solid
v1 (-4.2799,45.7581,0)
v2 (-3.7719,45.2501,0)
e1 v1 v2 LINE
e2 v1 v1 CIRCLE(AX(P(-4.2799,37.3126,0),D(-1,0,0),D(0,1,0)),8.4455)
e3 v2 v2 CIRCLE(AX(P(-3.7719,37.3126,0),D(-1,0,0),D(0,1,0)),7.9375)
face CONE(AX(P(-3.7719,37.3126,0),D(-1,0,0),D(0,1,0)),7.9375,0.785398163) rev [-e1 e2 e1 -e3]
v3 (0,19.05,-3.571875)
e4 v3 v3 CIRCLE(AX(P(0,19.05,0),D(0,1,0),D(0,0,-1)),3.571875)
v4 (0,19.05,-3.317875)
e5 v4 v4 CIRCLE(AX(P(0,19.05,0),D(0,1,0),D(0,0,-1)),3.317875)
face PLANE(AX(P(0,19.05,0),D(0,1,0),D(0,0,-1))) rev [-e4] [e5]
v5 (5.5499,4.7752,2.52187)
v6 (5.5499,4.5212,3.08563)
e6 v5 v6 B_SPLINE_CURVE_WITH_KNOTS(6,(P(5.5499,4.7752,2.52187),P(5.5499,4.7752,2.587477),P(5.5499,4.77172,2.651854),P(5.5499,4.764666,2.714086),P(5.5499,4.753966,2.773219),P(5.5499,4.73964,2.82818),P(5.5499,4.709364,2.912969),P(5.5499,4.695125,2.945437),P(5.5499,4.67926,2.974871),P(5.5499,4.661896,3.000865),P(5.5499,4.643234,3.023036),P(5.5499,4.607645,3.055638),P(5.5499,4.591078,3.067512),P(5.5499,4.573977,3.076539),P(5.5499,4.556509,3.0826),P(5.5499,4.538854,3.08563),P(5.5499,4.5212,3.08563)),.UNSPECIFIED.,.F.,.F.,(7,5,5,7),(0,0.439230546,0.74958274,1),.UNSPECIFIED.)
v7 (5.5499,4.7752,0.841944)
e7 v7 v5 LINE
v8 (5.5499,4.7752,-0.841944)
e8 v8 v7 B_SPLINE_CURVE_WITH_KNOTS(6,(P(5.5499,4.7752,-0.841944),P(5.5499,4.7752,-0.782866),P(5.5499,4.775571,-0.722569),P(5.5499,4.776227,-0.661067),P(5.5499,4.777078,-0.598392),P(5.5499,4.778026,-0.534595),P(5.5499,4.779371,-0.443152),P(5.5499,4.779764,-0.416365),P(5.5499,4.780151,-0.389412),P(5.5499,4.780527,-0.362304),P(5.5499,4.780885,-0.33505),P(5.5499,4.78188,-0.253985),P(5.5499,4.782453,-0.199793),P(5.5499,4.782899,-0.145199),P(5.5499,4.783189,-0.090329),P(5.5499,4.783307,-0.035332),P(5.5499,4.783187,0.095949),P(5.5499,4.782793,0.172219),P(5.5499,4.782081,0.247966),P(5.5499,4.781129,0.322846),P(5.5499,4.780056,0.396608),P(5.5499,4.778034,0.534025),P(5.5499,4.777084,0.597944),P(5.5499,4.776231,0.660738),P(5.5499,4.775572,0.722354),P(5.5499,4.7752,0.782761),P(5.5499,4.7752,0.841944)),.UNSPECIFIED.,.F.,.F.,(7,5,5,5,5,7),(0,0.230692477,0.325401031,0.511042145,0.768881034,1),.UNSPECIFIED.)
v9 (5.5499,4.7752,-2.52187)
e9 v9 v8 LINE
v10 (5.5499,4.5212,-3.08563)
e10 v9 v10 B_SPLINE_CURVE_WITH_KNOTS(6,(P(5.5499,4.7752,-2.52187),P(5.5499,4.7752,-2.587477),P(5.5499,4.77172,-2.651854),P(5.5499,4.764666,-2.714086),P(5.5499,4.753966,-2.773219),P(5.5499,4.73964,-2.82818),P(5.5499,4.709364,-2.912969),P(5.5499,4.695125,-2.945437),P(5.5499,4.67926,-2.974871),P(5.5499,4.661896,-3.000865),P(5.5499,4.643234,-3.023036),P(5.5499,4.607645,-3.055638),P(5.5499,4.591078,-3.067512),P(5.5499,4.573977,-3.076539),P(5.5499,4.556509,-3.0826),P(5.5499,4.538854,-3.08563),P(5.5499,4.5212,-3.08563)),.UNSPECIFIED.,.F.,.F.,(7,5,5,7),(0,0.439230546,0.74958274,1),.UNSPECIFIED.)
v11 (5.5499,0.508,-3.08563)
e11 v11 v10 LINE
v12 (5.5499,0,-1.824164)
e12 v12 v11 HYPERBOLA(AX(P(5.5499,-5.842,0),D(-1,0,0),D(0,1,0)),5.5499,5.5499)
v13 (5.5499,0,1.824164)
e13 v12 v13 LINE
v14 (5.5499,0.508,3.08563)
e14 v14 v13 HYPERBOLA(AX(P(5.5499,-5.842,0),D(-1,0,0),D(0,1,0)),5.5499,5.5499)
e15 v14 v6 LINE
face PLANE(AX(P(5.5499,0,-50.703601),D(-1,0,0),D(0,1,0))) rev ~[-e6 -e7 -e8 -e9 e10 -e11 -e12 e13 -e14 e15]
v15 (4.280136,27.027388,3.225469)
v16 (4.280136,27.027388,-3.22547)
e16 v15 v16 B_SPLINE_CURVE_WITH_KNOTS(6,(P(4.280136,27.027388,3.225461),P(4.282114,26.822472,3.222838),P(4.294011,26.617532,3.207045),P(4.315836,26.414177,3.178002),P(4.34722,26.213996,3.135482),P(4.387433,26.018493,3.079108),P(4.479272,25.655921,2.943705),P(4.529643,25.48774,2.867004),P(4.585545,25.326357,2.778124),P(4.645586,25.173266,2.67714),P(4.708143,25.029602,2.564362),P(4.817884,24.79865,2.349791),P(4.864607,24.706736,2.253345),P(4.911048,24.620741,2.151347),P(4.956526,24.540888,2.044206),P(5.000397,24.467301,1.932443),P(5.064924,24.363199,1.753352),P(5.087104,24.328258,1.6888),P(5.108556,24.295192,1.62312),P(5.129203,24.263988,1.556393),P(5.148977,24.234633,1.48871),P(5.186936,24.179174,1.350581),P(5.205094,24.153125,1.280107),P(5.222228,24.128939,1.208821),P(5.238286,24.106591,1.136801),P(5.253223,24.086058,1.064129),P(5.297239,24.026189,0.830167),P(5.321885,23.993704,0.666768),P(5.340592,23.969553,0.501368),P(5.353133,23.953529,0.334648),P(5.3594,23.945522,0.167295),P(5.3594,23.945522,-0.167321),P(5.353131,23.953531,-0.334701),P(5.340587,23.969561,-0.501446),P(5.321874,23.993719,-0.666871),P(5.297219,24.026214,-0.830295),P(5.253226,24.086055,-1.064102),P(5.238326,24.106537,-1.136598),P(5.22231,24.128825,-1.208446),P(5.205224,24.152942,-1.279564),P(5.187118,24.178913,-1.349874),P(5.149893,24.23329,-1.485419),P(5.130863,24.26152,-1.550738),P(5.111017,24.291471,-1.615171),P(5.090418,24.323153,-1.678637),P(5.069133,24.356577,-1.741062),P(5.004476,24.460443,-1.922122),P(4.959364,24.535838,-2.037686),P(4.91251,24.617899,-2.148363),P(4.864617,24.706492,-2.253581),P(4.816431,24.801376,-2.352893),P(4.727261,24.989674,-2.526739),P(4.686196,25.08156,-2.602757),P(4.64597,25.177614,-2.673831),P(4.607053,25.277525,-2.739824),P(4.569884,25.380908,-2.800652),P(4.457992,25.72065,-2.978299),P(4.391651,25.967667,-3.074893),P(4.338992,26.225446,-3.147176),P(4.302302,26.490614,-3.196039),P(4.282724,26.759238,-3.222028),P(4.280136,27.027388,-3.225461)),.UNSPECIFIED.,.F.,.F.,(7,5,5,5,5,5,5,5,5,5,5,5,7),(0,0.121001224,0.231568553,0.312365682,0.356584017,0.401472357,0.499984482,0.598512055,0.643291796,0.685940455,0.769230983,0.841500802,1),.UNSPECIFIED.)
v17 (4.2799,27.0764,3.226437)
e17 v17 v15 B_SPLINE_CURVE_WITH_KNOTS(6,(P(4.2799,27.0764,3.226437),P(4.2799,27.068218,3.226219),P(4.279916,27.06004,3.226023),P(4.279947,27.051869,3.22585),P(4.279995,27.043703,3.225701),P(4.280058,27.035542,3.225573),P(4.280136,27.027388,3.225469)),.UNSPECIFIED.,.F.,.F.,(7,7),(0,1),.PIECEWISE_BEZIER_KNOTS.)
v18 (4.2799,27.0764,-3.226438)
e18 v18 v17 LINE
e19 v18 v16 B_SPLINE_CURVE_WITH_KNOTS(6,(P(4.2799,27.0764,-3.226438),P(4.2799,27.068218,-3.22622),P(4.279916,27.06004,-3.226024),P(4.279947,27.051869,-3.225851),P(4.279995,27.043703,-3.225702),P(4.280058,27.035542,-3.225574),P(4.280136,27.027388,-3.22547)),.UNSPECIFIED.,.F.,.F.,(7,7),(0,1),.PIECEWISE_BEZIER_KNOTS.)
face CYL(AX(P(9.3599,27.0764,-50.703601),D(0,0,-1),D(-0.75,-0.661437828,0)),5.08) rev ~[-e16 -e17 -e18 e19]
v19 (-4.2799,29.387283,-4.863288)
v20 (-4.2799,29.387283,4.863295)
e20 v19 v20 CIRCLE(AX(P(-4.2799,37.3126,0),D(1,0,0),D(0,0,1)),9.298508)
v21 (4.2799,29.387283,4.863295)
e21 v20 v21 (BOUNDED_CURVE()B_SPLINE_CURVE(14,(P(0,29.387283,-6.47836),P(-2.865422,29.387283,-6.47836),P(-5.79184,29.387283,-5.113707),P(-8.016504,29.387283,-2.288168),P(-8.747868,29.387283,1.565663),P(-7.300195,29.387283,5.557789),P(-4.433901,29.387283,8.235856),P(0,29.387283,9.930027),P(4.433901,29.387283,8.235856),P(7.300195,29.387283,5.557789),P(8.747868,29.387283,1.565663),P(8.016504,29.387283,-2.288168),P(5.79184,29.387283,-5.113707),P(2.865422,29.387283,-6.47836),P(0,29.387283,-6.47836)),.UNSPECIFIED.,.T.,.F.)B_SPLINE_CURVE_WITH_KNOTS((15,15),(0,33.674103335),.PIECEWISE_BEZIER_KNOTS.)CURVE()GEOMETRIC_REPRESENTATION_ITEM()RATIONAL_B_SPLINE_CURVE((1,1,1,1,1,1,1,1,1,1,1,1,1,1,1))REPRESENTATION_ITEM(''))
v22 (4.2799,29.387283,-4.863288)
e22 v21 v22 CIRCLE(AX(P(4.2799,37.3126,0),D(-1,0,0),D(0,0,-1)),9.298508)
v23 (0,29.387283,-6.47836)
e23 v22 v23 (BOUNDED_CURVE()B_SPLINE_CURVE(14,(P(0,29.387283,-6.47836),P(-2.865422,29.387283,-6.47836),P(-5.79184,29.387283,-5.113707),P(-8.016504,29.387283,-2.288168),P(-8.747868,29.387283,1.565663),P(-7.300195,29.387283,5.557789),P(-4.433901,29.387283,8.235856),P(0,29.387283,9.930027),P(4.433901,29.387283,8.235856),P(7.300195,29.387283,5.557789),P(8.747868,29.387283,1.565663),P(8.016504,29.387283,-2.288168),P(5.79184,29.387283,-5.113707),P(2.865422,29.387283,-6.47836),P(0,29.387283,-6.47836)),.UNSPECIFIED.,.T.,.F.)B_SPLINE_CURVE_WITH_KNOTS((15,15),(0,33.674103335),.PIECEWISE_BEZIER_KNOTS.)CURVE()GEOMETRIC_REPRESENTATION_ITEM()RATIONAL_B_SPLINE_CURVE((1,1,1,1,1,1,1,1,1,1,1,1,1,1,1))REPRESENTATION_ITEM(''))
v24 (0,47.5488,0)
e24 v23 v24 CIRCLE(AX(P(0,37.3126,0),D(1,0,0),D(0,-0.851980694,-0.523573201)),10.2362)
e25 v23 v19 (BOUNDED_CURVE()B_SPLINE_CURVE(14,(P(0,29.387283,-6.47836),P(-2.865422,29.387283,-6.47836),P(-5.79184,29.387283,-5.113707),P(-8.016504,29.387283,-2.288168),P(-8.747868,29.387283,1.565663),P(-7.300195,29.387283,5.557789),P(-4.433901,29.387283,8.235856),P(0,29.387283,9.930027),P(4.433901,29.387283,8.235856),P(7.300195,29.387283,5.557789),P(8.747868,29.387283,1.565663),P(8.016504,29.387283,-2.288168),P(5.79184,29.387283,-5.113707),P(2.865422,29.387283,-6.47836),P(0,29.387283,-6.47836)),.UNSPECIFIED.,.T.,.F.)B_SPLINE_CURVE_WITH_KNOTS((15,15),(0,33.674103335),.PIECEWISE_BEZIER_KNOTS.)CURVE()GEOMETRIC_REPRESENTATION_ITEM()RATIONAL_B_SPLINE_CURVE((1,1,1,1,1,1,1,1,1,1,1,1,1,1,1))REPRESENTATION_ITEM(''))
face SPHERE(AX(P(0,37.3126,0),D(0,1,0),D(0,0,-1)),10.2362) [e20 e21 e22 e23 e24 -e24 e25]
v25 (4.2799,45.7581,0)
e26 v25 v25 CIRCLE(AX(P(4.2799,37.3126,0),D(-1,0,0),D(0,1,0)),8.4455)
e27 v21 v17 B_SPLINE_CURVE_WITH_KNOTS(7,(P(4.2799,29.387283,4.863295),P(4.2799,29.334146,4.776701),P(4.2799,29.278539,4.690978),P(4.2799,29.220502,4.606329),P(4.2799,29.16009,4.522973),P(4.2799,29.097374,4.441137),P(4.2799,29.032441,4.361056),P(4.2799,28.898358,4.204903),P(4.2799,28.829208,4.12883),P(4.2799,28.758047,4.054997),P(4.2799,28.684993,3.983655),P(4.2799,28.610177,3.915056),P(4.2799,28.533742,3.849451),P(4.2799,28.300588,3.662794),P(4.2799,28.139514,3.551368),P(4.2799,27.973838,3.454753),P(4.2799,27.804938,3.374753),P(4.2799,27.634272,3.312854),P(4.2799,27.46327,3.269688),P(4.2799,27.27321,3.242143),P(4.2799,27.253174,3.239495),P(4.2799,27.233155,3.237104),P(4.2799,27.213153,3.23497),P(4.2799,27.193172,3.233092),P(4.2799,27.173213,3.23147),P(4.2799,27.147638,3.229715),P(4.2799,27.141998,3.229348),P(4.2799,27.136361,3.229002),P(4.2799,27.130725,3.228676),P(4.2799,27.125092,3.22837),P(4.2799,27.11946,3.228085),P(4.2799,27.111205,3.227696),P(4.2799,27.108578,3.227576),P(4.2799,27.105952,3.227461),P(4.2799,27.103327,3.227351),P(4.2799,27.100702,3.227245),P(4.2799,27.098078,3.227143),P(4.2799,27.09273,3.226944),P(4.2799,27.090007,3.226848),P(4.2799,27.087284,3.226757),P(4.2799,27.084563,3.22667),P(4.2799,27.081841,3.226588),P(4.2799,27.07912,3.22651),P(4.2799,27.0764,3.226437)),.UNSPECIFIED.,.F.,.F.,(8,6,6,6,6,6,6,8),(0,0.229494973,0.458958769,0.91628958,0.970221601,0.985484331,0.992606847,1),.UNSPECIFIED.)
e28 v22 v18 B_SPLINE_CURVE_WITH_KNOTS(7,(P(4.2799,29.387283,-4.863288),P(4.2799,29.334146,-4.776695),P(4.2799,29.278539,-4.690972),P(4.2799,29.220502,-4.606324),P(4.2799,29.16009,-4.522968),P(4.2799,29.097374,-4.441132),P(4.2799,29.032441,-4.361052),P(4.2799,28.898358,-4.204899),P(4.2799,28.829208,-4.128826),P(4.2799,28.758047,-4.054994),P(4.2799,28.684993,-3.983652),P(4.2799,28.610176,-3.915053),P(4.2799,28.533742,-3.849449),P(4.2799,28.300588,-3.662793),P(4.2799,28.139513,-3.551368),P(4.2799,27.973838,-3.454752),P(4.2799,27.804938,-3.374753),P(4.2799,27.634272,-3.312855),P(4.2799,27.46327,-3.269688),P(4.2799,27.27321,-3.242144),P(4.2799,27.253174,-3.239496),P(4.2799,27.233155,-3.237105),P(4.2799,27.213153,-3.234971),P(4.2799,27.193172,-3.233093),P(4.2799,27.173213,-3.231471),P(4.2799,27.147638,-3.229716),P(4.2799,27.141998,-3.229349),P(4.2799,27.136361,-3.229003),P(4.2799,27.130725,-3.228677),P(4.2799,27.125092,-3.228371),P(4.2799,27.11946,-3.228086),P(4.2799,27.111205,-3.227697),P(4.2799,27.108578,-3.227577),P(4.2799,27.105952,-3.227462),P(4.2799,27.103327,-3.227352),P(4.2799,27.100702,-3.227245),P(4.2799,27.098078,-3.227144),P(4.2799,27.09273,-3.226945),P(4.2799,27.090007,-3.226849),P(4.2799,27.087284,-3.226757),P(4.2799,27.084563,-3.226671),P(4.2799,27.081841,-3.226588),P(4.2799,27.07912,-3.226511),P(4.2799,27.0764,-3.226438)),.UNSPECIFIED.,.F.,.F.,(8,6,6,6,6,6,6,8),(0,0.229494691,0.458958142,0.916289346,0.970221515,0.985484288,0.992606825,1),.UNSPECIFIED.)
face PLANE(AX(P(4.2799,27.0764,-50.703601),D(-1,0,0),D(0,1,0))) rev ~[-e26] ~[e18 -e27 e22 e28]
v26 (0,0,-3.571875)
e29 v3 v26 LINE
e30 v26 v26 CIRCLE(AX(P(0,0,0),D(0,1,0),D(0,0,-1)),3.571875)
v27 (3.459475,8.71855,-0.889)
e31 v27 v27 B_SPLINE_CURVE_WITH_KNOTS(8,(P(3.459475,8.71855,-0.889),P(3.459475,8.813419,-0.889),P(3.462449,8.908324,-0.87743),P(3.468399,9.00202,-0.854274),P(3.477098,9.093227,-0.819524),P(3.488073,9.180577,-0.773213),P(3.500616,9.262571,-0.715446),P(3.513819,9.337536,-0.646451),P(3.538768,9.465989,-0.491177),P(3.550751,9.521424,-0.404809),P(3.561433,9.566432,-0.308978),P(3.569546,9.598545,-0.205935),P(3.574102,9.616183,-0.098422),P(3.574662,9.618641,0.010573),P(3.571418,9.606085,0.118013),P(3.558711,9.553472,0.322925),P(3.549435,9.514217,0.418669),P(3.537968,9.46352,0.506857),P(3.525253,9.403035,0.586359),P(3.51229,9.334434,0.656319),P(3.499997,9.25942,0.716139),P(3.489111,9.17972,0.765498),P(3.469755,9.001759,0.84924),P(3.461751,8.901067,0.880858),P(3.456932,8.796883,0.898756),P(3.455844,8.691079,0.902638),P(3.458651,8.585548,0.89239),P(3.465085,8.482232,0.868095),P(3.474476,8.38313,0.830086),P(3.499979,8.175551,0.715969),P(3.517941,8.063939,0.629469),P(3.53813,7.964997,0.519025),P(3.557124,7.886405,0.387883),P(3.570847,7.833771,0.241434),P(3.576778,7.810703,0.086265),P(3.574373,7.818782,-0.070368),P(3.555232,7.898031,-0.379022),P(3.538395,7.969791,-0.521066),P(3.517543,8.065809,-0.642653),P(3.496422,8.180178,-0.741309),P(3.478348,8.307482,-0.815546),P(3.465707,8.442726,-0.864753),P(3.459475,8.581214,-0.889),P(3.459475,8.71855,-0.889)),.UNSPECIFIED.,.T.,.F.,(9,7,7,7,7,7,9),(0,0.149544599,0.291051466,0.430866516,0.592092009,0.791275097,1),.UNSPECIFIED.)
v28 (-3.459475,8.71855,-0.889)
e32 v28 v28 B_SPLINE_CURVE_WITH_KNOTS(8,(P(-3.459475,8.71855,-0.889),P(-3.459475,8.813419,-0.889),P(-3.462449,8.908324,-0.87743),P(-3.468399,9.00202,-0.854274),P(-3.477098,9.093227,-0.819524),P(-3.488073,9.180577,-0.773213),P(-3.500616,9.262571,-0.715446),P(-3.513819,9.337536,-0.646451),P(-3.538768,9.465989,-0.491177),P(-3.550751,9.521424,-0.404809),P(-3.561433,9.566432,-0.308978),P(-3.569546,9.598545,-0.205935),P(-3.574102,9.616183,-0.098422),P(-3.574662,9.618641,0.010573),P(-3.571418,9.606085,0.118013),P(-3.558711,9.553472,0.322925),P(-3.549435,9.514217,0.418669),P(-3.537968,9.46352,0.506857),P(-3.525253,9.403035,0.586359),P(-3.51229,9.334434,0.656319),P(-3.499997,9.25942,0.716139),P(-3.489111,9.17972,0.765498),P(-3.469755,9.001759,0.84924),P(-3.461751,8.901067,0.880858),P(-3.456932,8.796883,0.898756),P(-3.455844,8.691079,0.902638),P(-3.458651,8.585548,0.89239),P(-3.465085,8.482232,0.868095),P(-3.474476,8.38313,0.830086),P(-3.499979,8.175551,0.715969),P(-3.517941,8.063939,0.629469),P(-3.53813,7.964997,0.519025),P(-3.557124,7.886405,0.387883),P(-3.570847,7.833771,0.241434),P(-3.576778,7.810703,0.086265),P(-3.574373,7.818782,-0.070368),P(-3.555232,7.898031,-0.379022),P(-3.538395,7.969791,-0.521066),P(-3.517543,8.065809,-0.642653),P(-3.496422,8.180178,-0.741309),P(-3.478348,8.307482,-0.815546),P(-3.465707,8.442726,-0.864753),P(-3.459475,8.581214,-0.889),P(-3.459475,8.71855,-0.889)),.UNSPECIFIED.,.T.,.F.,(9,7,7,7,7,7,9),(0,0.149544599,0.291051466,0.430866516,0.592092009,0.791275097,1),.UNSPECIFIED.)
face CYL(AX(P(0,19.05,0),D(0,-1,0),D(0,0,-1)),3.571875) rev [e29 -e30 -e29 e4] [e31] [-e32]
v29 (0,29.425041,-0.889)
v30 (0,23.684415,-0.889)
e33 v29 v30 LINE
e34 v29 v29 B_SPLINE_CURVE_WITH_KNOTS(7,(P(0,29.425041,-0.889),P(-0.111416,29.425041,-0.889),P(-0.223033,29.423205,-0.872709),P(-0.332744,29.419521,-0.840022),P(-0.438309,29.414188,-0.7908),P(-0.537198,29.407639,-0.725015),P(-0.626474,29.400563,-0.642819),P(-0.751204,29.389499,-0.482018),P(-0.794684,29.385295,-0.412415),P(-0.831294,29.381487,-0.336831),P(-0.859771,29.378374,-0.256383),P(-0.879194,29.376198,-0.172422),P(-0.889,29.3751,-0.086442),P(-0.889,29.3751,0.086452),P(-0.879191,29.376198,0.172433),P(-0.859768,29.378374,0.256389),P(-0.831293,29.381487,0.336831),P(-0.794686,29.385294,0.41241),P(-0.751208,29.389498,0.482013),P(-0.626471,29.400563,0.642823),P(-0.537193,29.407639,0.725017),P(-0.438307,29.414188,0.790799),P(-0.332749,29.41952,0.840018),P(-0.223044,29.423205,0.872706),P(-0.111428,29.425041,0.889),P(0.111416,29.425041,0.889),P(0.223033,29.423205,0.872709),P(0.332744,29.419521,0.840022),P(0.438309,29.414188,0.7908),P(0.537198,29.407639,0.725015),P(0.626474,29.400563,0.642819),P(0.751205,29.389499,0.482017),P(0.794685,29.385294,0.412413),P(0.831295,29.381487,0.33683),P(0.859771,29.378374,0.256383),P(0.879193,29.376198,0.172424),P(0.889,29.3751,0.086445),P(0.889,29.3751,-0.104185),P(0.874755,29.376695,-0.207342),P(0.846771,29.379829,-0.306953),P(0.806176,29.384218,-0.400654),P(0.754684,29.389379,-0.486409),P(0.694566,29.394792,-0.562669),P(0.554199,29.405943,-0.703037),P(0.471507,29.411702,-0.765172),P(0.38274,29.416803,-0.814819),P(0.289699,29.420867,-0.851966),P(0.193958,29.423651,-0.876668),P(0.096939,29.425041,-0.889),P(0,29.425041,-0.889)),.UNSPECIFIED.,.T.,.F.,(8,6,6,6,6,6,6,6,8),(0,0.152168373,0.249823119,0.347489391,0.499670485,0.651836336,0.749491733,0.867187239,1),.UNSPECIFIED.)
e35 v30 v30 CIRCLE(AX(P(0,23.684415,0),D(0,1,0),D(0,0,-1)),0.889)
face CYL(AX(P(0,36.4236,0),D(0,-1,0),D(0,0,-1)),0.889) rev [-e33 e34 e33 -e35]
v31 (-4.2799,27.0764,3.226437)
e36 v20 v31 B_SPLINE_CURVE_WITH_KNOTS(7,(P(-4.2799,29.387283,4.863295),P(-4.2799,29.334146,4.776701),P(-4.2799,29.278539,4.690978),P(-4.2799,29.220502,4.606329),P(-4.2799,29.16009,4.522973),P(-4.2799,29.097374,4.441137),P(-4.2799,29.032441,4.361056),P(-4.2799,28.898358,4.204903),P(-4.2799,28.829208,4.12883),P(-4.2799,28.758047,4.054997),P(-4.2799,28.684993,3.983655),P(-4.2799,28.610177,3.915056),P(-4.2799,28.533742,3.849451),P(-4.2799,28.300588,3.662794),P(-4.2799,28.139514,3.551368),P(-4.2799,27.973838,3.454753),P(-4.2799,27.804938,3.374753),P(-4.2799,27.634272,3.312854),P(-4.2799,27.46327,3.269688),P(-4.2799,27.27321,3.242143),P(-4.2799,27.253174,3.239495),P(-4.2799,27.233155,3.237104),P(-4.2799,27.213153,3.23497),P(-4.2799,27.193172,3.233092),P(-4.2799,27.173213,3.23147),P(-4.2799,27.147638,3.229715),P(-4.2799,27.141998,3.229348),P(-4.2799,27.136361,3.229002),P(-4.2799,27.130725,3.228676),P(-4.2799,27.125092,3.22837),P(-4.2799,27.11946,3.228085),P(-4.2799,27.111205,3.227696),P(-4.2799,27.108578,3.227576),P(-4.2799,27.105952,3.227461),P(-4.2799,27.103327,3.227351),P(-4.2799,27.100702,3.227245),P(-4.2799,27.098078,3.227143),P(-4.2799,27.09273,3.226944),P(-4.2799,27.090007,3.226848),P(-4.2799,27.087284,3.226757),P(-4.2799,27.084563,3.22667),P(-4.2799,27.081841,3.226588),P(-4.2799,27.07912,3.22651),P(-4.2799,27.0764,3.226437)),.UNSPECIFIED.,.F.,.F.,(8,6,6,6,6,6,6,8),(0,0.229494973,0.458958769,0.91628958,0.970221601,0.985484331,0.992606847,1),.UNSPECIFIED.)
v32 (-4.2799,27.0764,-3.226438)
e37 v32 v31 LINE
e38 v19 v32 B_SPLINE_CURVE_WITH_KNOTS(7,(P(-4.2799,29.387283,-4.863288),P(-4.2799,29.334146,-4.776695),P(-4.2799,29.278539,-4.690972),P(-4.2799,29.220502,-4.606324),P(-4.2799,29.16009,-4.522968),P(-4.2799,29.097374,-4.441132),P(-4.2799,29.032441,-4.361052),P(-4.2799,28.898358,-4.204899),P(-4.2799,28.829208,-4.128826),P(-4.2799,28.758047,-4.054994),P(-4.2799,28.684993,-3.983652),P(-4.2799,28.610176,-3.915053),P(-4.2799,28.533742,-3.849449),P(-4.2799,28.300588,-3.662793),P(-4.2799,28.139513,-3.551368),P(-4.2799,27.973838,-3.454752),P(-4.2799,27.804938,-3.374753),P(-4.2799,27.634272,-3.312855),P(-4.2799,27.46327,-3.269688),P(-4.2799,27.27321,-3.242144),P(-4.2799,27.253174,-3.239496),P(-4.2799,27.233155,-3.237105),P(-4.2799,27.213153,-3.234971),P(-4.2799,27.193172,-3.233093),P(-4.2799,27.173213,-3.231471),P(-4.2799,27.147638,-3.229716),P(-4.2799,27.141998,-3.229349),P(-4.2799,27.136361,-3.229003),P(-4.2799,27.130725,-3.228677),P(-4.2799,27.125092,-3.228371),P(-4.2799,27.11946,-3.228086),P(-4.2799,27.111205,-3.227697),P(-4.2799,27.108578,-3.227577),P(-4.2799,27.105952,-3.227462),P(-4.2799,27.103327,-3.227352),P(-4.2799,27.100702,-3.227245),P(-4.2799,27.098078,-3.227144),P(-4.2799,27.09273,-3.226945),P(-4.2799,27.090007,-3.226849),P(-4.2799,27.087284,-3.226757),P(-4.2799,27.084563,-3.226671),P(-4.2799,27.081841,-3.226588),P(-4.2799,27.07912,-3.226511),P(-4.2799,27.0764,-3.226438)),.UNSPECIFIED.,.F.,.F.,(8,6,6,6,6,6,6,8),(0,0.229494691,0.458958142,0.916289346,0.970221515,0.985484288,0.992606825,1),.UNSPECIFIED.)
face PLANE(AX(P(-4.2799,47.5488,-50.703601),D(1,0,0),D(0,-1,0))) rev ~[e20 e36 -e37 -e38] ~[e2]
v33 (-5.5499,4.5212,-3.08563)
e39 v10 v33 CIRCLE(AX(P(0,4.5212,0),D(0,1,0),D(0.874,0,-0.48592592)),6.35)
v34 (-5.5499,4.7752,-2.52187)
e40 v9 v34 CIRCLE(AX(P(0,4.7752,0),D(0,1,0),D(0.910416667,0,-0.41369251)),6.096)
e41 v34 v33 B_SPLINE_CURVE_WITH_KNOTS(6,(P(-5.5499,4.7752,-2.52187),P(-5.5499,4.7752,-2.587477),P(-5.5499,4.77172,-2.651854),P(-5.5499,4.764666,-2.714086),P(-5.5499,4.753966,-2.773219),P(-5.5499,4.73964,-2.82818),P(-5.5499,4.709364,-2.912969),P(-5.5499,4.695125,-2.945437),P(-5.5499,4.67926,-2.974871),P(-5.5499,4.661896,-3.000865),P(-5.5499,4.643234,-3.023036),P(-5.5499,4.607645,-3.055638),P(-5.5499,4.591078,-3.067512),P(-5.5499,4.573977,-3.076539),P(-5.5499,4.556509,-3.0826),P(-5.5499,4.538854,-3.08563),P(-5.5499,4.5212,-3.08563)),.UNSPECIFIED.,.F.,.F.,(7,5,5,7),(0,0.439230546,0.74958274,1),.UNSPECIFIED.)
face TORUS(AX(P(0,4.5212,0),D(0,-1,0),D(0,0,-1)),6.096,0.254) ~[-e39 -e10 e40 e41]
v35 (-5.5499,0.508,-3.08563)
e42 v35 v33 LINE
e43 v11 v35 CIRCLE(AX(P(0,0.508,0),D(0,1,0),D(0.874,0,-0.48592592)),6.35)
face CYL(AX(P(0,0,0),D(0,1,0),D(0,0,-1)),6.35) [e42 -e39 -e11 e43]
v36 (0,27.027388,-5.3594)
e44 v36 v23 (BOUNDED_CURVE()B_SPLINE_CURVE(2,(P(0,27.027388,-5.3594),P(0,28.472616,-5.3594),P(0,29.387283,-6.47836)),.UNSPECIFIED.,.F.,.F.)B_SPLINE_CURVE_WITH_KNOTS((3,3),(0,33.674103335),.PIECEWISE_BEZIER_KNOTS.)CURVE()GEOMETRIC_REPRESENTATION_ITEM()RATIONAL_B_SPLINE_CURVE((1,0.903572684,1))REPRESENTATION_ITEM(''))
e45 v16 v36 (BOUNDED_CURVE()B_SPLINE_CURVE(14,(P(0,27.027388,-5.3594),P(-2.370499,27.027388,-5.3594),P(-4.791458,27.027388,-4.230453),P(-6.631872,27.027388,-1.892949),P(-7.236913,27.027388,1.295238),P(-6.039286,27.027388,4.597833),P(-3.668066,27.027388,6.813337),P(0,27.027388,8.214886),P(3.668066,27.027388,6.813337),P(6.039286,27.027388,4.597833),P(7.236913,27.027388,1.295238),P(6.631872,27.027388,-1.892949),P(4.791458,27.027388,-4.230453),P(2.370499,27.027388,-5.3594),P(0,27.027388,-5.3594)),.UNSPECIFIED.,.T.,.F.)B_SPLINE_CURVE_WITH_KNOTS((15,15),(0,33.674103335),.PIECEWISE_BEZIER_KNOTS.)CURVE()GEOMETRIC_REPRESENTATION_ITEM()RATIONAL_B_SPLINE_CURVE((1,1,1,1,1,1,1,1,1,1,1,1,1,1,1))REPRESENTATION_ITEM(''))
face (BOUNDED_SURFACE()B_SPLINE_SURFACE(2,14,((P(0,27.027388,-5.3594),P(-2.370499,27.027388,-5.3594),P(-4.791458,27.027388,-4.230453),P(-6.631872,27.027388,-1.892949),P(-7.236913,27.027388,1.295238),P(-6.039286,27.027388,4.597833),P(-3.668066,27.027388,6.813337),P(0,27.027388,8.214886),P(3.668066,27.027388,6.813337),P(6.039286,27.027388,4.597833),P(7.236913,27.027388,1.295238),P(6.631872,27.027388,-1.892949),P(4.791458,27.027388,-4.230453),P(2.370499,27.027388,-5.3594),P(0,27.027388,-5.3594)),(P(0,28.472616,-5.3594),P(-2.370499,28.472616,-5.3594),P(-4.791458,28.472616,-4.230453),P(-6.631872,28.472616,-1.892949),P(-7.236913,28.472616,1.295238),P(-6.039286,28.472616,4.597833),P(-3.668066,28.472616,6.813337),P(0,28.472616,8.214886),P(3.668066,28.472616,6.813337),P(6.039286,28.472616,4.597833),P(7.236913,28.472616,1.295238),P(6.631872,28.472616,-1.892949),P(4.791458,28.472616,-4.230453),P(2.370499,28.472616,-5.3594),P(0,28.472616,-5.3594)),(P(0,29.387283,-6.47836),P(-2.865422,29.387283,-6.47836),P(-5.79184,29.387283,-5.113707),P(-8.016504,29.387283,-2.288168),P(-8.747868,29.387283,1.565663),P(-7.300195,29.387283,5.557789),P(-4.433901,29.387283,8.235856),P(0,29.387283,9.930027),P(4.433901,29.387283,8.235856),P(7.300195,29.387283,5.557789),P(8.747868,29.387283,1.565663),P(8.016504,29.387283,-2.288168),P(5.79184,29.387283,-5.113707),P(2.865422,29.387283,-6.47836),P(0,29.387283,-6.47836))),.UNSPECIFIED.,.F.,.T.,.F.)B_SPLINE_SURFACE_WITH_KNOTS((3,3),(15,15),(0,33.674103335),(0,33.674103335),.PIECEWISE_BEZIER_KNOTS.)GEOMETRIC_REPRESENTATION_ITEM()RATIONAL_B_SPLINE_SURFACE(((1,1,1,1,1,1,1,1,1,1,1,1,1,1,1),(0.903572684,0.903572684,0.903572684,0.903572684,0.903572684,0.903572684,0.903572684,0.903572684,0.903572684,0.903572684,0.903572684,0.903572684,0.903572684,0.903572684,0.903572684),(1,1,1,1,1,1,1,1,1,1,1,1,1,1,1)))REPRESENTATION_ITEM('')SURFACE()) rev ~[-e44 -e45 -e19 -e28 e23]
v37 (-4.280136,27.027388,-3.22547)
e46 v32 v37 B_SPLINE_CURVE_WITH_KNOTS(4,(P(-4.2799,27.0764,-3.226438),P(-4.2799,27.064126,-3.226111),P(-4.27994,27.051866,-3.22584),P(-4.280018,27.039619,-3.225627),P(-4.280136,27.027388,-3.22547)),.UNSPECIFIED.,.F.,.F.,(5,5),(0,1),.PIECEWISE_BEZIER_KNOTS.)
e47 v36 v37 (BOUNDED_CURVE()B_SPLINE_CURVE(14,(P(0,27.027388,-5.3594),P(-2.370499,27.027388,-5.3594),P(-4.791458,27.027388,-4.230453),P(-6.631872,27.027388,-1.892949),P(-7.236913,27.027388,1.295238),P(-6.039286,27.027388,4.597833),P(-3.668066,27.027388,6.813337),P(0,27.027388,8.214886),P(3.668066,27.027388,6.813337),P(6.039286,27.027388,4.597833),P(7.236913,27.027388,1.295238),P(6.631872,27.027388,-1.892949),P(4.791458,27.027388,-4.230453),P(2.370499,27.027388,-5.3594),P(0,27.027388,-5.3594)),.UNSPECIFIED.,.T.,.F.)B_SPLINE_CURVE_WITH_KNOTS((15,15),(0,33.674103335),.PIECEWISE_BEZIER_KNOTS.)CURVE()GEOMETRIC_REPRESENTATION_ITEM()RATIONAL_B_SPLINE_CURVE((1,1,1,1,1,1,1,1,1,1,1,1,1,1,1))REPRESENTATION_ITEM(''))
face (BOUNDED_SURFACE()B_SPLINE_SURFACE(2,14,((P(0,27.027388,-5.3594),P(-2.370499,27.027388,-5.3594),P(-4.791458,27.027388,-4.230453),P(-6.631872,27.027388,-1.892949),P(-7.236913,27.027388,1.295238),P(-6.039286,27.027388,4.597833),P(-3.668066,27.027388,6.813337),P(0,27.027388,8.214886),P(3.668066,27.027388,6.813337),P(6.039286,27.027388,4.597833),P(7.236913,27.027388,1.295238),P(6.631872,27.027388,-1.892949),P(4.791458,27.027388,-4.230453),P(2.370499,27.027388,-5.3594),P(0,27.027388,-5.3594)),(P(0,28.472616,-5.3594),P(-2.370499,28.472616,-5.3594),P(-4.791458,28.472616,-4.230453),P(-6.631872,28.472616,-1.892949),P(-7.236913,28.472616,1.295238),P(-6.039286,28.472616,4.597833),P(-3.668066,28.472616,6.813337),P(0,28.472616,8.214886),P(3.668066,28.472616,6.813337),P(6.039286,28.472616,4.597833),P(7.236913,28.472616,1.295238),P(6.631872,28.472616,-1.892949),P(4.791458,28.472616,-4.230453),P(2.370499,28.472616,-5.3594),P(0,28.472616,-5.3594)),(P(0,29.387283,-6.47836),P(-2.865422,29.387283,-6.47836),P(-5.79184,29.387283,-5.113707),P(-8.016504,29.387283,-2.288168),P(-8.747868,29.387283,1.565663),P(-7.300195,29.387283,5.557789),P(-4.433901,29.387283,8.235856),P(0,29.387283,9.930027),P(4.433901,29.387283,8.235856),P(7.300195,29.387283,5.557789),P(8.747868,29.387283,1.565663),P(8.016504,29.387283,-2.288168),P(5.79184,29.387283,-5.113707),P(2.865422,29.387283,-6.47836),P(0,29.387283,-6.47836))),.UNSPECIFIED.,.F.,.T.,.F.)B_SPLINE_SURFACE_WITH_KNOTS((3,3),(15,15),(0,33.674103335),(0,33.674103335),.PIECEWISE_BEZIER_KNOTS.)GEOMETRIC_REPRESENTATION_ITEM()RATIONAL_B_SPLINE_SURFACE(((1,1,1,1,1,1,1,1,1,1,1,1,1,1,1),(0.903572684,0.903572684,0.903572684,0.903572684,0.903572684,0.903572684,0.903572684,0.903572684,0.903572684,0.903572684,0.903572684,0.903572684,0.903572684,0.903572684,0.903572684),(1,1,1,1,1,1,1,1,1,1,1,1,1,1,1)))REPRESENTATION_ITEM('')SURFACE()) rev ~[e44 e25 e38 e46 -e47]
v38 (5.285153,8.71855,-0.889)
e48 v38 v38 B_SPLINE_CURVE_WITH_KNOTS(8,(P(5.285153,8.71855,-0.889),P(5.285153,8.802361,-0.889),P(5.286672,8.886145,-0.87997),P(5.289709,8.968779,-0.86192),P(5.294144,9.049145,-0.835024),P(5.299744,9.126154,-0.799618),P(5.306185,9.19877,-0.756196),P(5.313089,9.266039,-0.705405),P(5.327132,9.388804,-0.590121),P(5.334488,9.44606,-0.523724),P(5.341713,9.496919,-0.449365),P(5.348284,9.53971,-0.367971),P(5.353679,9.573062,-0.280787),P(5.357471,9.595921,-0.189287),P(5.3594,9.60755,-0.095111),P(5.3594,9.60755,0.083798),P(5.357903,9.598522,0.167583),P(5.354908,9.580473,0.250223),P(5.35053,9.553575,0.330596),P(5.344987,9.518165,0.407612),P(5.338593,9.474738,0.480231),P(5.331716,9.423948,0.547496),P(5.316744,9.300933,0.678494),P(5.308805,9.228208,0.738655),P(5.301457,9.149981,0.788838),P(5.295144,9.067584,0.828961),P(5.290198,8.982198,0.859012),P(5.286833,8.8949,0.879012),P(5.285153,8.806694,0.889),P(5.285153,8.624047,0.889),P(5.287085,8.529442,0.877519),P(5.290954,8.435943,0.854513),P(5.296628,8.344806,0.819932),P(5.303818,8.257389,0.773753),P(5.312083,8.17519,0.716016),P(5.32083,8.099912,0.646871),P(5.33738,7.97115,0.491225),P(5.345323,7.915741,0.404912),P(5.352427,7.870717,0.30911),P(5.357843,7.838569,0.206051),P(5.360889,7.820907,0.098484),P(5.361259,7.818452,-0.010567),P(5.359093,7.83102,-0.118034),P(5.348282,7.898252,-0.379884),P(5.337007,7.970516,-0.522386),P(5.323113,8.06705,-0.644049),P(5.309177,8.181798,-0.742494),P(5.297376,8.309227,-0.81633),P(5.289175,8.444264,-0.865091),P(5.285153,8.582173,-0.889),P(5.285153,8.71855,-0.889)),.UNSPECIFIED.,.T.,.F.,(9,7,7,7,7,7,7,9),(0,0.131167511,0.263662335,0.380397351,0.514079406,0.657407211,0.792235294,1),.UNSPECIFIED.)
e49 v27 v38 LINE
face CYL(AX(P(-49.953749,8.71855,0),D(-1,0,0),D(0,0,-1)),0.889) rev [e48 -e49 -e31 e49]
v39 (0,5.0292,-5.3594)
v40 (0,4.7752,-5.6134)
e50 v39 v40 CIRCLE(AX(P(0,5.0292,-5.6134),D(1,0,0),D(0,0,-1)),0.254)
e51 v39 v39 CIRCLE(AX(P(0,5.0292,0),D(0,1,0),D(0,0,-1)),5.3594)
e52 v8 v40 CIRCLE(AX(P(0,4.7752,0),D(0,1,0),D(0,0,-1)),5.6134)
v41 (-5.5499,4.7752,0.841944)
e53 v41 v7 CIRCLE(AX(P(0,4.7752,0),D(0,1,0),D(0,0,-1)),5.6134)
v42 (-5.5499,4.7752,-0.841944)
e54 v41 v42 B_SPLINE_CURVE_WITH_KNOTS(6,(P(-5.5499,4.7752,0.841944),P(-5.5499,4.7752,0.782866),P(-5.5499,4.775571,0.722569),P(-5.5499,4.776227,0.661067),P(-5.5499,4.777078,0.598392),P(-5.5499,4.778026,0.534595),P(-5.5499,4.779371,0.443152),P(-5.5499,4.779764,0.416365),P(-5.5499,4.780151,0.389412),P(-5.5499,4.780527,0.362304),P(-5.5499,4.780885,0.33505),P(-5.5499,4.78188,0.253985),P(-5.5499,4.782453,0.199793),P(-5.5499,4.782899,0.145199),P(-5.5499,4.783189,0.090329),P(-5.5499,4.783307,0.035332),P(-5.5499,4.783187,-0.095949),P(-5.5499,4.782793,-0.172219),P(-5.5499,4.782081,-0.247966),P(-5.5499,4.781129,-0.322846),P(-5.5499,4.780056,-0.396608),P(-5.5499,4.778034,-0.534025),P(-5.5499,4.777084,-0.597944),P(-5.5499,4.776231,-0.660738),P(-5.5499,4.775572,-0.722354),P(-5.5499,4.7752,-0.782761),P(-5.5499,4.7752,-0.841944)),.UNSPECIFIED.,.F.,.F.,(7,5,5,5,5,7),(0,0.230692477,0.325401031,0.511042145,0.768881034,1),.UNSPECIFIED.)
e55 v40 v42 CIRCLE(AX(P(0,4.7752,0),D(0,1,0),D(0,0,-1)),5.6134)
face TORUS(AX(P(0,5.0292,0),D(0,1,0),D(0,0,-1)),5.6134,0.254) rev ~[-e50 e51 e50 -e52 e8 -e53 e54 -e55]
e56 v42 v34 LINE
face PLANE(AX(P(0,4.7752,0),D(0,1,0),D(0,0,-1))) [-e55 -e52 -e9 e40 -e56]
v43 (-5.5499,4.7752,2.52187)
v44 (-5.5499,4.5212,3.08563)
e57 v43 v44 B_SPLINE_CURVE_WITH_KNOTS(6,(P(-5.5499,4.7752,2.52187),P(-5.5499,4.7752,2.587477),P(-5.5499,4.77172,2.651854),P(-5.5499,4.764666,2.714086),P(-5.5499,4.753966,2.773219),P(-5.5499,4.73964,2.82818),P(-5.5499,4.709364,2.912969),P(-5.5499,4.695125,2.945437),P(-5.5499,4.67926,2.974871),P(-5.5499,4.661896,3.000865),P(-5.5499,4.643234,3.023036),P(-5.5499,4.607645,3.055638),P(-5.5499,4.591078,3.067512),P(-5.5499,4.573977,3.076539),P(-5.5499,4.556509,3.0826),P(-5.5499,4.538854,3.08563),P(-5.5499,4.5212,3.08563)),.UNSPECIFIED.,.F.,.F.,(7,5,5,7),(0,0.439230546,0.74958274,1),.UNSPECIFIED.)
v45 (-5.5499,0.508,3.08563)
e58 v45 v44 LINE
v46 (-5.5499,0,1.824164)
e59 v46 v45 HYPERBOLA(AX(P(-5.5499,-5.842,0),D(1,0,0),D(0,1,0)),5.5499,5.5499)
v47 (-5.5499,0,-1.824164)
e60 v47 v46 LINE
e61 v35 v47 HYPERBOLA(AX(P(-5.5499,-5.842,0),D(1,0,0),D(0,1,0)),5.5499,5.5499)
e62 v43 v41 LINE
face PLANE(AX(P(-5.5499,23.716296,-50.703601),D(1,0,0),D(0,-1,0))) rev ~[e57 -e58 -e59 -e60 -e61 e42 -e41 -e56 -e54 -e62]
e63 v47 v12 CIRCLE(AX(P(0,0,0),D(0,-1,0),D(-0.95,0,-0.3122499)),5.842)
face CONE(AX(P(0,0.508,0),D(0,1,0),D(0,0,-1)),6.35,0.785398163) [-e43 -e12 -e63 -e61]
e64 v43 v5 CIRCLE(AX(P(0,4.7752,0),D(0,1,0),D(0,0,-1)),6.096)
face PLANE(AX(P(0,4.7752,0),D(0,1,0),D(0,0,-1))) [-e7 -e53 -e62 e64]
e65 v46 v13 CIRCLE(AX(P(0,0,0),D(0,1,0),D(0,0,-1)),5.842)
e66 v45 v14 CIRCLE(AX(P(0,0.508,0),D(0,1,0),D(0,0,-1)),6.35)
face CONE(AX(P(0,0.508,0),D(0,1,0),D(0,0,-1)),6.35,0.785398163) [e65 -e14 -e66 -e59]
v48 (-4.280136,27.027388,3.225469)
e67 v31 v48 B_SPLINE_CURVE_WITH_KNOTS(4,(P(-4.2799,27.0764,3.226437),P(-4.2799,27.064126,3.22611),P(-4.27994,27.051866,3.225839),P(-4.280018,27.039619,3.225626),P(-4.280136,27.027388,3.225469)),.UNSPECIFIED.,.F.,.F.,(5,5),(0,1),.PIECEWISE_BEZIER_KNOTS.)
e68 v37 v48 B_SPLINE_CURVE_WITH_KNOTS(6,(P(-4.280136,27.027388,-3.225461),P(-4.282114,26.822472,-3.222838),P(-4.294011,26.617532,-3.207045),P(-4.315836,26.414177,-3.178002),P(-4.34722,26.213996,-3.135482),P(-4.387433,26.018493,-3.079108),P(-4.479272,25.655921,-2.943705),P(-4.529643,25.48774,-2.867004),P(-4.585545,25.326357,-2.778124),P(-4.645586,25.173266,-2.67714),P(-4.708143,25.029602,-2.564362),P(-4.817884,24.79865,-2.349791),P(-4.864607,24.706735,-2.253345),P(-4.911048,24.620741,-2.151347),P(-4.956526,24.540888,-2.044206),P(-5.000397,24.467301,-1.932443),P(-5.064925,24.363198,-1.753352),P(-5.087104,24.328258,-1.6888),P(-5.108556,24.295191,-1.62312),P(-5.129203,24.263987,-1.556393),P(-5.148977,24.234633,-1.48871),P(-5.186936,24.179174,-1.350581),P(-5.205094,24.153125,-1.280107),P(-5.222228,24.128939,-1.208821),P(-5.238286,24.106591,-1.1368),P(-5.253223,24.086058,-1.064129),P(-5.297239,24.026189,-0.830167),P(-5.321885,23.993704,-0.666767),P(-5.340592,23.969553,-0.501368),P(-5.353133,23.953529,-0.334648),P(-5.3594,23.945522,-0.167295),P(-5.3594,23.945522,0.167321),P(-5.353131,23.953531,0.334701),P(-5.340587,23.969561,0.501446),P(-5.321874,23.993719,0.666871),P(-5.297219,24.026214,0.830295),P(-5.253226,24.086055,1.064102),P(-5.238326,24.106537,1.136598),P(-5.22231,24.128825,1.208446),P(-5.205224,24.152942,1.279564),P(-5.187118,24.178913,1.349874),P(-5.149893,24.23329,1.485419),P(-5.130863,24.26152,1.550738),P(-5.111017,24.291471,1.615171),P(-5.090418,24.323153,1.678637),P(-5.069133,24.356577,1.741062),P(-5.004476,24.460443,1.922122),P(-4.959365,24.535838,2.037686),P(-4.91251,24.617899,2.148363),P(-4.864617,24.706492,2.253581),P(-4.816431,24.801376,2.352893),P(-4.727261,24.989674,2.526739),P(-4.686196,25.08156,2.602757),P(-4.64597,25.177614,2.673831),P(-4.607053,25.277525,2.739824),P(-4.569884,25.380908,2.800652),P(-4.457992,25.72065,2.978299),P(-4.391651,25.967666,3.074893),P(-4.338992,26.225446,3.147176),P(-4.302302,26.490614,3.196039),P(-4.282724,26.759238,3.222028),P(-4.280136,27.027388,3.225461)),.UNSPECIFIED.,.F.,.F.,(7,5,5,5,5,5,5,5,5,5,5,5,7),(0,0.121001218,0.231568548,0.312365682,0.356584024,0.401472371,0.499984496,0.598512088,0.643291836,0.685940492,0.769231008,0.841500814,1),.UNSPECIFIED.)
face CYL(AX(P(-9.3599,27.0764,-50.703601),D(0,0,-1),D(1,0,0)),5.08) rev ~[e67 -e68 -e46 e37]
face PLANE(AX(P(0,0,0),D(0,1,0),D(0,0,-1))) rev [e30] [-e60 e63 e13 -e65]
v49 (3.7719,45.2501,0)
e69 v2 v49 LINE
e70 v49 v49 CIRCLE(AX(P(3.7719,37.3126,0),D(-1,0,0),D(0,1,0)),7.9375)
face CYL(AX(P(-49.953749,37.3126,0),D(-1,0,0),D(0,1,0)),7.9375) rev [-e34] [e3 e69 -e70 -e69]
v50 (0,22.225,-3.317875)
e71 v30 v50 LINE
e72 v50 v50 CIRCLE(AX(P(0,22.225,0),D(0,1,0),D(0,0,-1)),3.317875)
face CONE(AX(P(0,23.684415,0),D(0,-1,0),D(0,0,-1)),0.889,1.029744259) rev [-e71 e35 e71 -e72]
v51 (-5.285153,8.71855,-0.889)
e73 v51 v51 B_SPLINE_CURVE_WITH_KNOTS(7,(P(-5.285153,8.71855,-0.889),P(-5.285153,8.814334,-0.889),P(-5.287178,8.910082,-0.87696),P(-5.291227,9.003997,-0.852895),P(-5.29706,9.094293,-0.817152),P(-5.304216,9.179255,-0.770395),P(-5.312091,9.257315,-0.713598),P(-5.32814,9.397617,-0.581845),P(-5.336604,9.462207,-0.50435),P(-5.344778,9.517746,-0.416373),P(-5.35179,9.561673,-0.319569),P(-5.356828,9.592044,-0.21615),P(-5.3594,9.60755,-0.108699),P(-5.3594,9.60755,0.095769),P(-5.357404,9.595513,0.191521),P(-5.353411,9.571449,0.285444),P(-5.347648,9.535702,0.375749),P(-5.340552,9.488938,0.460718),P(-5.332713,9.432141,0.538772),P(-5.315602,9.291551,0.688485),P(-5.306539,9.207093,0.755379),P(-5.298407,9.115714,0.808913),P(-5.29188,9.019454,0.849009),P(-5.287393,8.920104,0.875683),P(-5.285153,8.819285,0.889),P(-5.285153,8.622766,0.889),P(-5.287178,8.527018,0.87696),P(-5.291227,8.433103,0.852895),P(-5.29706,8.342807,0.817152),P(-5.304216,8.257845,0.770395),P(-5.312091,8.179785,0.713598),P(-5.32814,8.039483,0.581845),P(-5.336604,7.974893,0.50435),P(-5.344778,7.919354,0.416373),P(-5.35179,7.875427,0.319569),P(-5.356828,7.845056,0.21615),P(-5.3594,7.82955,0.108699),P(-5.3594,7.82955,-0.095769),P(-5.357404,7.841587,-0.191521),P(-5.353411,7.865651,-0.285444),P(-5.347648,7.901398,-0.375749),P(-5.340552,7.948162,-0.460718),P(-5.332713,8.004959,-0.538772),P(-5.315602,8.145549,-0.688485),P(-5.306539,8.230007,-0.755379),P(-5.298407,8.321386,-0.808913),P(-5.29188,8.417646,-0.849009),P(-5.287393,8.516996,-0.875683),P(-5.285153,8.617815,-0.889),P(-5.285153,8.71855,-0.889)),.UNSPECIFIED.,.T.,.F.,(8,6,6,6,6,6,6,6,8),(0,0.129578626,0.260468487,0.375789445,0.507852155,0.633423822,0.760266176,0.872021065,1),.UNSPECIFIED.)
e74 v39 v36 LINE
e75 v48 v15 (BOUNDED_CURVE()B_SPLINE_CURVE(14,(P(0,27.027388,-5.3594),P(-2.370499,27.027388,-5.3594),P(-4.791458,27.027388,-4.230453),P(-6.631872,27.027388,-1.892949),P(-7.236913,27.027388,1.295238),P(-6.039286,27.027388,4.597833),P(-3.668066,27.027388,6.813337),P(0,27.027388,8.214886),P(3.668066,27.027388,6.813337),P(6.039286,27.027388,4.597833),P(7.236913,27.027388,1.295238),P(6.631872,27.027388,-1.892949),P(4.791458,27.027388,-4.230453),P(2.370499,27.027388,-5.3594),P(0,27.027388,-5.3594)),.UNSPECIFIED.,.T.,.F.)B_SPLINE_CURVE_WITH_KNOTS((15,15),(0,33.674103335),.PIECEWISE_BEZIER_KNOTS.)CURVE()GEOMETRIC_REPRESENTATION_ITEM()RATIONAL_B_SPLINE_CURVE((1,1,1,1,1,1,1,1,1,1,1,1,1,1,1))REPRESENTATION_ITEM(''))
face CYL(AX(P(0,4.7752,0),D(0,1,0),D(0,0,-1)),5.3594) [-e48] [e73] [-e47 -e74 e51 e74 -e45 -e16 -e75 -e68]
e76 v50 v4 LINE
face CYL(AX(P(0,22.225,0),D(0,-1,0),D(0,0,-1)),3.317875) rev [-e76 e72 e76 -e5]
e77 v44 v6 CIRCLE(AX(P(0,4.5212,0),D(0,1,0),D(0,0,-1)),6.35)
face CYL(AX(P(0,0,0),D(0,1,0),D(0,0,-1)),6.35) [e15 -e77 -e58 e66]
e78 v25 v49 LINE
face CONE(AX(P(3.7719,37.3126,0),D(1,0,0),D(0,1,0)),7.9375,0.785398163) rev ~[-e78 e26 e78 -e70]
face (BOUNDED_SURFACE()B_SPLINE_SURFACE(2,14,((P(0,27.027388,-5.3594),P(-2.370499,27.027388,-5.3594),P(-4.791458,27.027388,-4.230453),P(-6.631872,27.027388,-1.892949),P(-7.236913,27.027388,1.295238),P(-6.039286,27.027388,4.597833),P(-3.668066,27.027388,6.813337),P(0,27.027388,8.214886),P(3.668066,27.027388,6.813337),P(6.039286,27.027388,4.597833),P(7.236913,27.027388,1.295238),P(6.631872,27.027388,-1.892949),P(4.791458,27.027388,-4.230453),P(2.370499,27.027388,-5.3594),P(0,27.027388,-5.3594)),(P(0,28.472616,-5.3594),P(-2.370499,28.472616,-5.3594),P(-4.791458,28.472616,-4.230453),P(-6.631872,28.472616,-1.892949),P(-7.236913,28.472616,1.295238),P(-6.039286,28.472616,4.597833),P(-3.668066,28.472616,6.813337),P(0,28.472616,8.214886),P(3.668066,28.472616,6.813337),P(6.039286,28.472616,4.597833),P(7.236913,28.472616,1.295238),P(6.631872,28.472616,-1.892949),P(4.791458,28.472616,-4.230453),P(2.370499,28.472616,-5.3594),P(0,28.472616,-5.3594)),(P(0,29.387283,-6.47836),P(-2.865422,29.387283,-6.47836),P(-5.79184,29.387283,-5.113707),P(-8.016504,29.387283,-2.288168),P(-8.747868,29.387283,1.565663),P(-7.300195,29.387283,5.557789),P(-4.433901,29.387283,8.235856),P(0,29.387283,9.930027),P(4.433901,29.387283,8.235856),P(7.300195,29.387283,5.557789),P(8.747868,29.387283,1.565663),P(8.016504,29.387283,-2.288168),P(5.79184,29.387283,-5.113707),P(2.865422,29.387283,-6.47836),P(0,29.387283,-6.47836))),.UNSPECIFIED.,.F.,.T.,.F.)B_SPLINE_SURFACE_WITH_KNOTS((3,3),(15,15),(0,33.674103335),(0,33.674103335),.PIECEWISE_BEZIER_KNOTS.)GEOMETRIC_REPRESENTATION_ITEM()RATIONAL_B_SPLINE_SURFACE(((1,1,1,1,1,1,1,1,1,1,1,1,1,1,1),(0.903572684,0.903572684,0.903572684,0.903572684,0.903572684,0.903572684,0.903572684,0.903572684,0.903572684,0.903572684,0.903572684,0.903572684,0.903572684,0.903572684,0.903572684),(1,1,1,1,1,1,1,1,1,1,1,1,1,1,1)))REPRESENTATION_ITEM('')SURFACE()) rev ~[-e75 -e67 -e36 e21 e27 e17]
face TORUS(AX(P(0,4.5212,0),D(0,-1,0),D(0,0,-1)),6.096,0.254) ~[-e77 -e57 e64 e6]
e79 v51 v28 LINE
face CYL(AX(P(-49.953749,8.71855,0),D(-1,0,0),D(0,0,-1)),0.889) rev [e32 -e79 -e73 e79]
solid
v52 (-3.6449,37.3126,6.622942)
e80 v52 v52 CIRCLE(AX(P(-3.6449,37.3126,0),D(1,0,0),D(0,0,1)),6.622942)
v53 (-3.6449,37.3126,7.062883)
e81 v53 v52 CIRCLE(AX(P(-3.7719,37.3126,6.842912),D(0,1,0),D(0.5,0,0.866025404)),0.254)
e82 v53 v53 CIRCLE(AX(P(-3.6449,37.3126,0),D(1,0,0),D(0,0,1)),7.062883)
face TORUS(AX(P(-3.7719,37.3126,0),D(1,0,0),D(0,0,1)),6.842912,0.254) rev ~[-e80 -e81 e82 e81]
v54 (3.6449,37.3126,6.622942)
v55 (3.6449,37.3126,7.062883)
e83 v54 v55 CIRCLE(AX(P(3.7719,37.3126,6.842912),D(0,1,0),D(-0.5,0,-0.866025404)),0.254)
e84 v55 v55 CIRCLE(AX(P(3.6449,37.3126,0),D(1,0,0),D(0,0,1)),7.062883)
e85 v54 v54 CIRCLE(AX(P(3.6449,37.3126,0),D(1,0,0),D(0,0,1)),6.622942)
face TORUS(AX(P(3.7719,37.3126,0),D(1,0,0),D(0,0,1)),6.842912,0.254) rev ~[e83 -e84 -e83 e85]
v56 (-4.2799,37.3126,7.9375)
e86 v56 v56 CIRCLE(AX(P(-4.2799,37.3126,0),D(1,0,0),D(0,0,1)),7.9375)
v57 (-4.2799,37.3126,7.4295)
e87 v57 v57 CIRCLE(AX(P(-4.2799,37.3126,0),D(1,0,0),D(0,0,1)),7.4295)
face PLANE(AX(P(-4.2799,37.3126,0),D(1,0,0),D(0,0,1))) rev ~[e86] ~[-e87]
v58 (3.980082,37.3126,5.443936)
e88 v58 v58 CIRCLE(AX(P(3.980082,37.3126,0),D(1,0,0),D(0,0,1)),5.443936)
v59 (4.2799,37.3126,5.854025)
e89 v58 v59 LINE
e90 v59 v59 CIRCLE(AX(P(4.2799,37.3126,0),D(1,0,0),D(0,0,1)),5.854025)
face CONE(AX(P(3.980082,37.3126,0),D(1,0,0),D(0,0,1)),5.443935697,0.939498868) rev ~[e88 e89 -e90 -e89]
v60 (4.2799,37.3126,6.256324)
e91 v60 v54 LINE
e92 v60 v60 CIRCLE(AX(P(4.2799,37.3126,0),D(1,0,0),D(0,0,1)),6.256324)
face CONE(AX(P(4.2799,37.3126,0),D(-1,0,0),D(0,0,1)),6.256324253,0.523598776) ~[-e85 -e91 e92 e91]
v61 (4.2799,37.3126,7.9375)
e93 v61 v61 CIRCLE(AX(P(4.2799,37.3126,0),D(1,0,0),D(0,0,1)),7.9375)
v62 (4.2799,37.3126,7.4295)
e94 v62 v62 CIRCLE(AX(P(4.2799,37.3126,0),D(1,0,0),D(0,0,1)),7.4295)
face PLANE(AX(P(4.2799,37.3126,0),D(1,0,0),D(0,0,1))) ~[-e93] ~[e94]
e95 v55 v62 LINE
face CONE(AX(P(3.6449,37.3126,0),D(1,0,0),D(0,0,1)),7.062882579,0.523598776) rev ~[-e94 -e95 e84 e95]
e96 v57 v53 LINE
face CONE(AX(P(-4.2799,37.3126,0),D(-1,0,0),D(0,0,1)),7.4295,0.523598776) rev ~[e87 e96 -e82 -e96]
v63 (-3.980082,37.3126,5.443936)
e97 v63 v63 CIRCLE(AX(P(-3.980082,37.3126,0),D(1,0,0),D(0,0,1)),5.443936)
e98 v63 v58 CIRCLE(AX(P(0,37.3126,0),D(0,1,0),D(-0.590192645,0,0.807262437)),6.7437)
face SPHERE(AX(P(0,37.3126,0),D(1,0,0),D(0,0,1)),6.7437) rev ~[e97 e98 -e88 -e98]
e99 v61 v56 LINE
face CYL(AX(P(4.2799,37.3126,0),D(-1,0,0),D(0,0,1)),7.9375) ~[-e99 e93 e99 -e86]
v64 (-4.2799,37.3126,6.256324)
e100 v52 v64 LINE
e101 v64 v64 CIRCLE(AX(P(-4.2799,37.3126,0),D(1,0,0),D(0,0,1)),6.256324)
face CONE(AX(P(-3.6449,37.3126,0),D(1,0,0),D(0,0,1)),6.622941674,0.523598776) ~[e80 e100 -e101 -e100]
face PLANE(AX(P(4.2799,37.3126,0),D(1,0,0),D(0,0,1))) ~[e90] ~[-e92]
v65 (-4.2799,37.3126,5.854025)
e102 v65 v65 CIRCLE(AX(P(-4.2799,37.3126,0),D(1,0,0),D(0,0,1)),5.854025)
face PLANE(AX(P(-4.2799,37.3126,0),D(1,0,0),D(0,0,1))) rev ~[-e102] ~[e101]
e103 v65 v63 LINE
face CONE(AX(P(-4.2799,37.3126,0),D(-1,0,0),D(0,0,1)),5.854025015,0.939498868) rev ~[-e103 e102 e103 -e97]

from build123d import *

# Parameters (mm, degrees)
CHAMFER1_SIZE           = 0.508
FILLET1_R               = 3.048
FILLET2_R               = 0.254
CUT_EXTRUDE1_DEPTH      = 50.7036011
CUT_EXTRUDE1_DEPTH_BACK = 50.7036011
SKETCH2_OUTSIDE_W       = 33.606
SKETCH2_OUTSIDE_H       = 60.683
CUT_EXTRUDE2_DEPTH      = 49.953749223
CUT_EXTRUDE2_DEPTH_BACK = 49.953749223
SKETCH3_R               = 7.9375
SKETCH3_R_2             = 0.889
CHAMFER2_SIZE           = 0.508


with BuildPart() as part:
    # Sketch1 → Revolve1 (revolve)
    with BuildSketch(Plane.XY, mode=Mode.PRIVATE) as revolve1_sk:
        with BuildLine():
            Line((3.571875, 0), (6.35, 0))
            Line((6.35, 0), (6.35, 4.7752))
            Line((6.35, 4.7752), (5.3594, 4.7752))
            Line((5.3594, 4.7752), (5.3594, 28.591555219))
            ThreePointArc((5.3594, 28.591555219), (9.850130685, 40.097329058), (0, 47.5488))
            Line((0, 47.5488), (0, 37.3126))
            Line((0, 37.3126), (0.889, 36.4236))
            Line((0.889, 36.4236), (0.889, 23.684415336))
            Line((0.889, 23.684415336), (3.317875, 22.225))
            Line((3.317875, 22.225), (3.317875, 19.05))
            Line((3.317875, 19.05), (3.571875, 19.05))
            Line((3.571875, 19.05), (3.571875, 0))
        make_face()
    revolve(revolve1_sk.sketch.rotate(Axis((0, -1004.593899687, 0), (0, 1, 0)), 90), axis=Axis((0, -1004.593899687, 0), (0, 1, 0)))

    # Chamfer1
    chamfer1_edges = [part.edges().sort_by_distance(p)[0] for p in [
        (0, 0, 6.35),
    ]]
    chamfer(chamfer1_edges, length=CHAMFER1_SIZE)

    # Fillet1
    fillet1_edges = [part.edges().sort_by_distance(p)[0] for p in [
        (0, 28.591555219, 5.3594),
    ]]
    fillet(fillet1_edges, radius=FILLET1_R)

    # Fillet2
    fillet2_edges = [part.edges().sort_by_distance(p)[0] for p in [
        (0, 4.7752, 6.35),
        (0, 4.7752, 5.3594),
    ]]
    fillet(fillet2_edges, radius=FILLET2_R)

    # Sketch2 outside → Cut-Extrude1 (cut, two sides: drawn at the far end of the back side and taken through both)
    with BuildSketch(Plane.XY.offset(-CUT_EXTRUDE1_DEPTH_BACK)):
        with Locations((0, 23.7745)):
            Rectangle(SKETCH2_OUTSIDE_W, SKETCH2_OUTSIDE_H)
        with BuildLine():
            Line((-5.5499, 0), (5.5499, 0))
            Line((5.5499, 0), (5.5499, 23.716295835))
            ThreePointArc((5.5499, 23.716295835), (4.607995119, 25.280348776), (4.2799, 27.0764))
            Line((4.2799, 27.0764), (4.2799, 47.5488))
            Line((4.2799, 47.5488), (-4.2799, 47.5488))
            Line((-4.2799, 47.5488), (-4.2799, 27.0764))
            ThreePointArc((-4.2799, 27.0764), (-4.607995119, 25.280348776), (-5.5499, 23.716295835))
            Line((-5.5499, 23.716295835), (-5.5499, 0))
        make_face(mode=Mode.SUBTRACT)
    extrude(amount=CUT_EXTRUDE1_DEPTH + CUT_EXTRUDE1_DEPTH_BACK, mode=Mode.SUBTRACT)

    # Sketch3 → Cut-Extrude2 (cut, two sides: drawn at the far end of the back side and taken through both)
    with BuildSketch(Plane(origin=(0, 0, 0), x_dir=(0, 0, -1), z_dir=(1, 0, 0)).offset(-CUT_EXTRUDE2_DEPTH_BACK)):
        with Locations(Location((0, 37.3126, 0), (0, 0, 90))):
            Circle(SKETCH3_R)
        with Locations((0, 8.71855)):
            Circle(SKETCH3_R_2)
    extrude(amount=CUT_EXTRUDE2_DEPTH + CUT_EXTRUDE2_DEPTH_BACK, mode=Mode.SUBTRACT)

    # Chamfer2
    chamfer2_edges = [part.edges().sort_by_distance(p)[0] for p in [
        (4.2799, 29.3751, 0),
        (-4.2799, 29.3751, 0),
    ]]
    chamfer(chamfer2_edges, length=CHAMFER2_SIZE)


with BuildPart() as body_2:
    # Sketch4 → Revolve2 (revolve)
    with BuildSketch(Plane.XY, mode=Mode.PRIVATE) as revolve2_sk:
        with BuildLine():
            Line((3.980082137, 42.756535697), (4.2799, 43.166625015))
            Line((4.2799, 43.166625015), (4.2799, 43.568924253))
            Line((4.2799, 43.568924253), (3.6449, 43.935541674))
            ThreePointArc((3.6449, 43.935541674), (3.5179, 44.155512127), (3.6449, 44.375482579))
            Line((3.6449, 44.375482579), (4.2799, 44.7421))
            Line((4.2799, 44.7421), (4.2799, 45.2501))
            Line((4.2799, 45.2501), (-4.2799, 45.2501))
            Line((-4.2799, 45.2501), (-4.2799, 44.7421))
            Line((-4.2799, 44.7421), (-3.6449, 44.375482579))
            ThreePointArc((-3.6449, 44.375482579), (-3.5179, 44.155512127), (-3.6449, 43.935541674))
            Line((-3.6449, 43.935541674), (-4.2799, 43.568924253))
            Line((-4.2799, 43.568924253), (-4.2799, 43.166625015))
            Line((-4.2799, 43.166625015), (-3.980082137, 42.756535697))
            ThreePointArc((-3.980082137, 42.756535697), (0, 44.0563), (3.980082137, 42.756535697))
        make_face()
    revolve(revolve2_sk.sketch.rotate(Axis((-14.449204668, 37.3126, 0), (1, 0, 0)), 90), axis=Axis((-14.449204668, 37.3126, 0), (1, 0, 0)))


solid = Compound([part.part, body_2.part])
